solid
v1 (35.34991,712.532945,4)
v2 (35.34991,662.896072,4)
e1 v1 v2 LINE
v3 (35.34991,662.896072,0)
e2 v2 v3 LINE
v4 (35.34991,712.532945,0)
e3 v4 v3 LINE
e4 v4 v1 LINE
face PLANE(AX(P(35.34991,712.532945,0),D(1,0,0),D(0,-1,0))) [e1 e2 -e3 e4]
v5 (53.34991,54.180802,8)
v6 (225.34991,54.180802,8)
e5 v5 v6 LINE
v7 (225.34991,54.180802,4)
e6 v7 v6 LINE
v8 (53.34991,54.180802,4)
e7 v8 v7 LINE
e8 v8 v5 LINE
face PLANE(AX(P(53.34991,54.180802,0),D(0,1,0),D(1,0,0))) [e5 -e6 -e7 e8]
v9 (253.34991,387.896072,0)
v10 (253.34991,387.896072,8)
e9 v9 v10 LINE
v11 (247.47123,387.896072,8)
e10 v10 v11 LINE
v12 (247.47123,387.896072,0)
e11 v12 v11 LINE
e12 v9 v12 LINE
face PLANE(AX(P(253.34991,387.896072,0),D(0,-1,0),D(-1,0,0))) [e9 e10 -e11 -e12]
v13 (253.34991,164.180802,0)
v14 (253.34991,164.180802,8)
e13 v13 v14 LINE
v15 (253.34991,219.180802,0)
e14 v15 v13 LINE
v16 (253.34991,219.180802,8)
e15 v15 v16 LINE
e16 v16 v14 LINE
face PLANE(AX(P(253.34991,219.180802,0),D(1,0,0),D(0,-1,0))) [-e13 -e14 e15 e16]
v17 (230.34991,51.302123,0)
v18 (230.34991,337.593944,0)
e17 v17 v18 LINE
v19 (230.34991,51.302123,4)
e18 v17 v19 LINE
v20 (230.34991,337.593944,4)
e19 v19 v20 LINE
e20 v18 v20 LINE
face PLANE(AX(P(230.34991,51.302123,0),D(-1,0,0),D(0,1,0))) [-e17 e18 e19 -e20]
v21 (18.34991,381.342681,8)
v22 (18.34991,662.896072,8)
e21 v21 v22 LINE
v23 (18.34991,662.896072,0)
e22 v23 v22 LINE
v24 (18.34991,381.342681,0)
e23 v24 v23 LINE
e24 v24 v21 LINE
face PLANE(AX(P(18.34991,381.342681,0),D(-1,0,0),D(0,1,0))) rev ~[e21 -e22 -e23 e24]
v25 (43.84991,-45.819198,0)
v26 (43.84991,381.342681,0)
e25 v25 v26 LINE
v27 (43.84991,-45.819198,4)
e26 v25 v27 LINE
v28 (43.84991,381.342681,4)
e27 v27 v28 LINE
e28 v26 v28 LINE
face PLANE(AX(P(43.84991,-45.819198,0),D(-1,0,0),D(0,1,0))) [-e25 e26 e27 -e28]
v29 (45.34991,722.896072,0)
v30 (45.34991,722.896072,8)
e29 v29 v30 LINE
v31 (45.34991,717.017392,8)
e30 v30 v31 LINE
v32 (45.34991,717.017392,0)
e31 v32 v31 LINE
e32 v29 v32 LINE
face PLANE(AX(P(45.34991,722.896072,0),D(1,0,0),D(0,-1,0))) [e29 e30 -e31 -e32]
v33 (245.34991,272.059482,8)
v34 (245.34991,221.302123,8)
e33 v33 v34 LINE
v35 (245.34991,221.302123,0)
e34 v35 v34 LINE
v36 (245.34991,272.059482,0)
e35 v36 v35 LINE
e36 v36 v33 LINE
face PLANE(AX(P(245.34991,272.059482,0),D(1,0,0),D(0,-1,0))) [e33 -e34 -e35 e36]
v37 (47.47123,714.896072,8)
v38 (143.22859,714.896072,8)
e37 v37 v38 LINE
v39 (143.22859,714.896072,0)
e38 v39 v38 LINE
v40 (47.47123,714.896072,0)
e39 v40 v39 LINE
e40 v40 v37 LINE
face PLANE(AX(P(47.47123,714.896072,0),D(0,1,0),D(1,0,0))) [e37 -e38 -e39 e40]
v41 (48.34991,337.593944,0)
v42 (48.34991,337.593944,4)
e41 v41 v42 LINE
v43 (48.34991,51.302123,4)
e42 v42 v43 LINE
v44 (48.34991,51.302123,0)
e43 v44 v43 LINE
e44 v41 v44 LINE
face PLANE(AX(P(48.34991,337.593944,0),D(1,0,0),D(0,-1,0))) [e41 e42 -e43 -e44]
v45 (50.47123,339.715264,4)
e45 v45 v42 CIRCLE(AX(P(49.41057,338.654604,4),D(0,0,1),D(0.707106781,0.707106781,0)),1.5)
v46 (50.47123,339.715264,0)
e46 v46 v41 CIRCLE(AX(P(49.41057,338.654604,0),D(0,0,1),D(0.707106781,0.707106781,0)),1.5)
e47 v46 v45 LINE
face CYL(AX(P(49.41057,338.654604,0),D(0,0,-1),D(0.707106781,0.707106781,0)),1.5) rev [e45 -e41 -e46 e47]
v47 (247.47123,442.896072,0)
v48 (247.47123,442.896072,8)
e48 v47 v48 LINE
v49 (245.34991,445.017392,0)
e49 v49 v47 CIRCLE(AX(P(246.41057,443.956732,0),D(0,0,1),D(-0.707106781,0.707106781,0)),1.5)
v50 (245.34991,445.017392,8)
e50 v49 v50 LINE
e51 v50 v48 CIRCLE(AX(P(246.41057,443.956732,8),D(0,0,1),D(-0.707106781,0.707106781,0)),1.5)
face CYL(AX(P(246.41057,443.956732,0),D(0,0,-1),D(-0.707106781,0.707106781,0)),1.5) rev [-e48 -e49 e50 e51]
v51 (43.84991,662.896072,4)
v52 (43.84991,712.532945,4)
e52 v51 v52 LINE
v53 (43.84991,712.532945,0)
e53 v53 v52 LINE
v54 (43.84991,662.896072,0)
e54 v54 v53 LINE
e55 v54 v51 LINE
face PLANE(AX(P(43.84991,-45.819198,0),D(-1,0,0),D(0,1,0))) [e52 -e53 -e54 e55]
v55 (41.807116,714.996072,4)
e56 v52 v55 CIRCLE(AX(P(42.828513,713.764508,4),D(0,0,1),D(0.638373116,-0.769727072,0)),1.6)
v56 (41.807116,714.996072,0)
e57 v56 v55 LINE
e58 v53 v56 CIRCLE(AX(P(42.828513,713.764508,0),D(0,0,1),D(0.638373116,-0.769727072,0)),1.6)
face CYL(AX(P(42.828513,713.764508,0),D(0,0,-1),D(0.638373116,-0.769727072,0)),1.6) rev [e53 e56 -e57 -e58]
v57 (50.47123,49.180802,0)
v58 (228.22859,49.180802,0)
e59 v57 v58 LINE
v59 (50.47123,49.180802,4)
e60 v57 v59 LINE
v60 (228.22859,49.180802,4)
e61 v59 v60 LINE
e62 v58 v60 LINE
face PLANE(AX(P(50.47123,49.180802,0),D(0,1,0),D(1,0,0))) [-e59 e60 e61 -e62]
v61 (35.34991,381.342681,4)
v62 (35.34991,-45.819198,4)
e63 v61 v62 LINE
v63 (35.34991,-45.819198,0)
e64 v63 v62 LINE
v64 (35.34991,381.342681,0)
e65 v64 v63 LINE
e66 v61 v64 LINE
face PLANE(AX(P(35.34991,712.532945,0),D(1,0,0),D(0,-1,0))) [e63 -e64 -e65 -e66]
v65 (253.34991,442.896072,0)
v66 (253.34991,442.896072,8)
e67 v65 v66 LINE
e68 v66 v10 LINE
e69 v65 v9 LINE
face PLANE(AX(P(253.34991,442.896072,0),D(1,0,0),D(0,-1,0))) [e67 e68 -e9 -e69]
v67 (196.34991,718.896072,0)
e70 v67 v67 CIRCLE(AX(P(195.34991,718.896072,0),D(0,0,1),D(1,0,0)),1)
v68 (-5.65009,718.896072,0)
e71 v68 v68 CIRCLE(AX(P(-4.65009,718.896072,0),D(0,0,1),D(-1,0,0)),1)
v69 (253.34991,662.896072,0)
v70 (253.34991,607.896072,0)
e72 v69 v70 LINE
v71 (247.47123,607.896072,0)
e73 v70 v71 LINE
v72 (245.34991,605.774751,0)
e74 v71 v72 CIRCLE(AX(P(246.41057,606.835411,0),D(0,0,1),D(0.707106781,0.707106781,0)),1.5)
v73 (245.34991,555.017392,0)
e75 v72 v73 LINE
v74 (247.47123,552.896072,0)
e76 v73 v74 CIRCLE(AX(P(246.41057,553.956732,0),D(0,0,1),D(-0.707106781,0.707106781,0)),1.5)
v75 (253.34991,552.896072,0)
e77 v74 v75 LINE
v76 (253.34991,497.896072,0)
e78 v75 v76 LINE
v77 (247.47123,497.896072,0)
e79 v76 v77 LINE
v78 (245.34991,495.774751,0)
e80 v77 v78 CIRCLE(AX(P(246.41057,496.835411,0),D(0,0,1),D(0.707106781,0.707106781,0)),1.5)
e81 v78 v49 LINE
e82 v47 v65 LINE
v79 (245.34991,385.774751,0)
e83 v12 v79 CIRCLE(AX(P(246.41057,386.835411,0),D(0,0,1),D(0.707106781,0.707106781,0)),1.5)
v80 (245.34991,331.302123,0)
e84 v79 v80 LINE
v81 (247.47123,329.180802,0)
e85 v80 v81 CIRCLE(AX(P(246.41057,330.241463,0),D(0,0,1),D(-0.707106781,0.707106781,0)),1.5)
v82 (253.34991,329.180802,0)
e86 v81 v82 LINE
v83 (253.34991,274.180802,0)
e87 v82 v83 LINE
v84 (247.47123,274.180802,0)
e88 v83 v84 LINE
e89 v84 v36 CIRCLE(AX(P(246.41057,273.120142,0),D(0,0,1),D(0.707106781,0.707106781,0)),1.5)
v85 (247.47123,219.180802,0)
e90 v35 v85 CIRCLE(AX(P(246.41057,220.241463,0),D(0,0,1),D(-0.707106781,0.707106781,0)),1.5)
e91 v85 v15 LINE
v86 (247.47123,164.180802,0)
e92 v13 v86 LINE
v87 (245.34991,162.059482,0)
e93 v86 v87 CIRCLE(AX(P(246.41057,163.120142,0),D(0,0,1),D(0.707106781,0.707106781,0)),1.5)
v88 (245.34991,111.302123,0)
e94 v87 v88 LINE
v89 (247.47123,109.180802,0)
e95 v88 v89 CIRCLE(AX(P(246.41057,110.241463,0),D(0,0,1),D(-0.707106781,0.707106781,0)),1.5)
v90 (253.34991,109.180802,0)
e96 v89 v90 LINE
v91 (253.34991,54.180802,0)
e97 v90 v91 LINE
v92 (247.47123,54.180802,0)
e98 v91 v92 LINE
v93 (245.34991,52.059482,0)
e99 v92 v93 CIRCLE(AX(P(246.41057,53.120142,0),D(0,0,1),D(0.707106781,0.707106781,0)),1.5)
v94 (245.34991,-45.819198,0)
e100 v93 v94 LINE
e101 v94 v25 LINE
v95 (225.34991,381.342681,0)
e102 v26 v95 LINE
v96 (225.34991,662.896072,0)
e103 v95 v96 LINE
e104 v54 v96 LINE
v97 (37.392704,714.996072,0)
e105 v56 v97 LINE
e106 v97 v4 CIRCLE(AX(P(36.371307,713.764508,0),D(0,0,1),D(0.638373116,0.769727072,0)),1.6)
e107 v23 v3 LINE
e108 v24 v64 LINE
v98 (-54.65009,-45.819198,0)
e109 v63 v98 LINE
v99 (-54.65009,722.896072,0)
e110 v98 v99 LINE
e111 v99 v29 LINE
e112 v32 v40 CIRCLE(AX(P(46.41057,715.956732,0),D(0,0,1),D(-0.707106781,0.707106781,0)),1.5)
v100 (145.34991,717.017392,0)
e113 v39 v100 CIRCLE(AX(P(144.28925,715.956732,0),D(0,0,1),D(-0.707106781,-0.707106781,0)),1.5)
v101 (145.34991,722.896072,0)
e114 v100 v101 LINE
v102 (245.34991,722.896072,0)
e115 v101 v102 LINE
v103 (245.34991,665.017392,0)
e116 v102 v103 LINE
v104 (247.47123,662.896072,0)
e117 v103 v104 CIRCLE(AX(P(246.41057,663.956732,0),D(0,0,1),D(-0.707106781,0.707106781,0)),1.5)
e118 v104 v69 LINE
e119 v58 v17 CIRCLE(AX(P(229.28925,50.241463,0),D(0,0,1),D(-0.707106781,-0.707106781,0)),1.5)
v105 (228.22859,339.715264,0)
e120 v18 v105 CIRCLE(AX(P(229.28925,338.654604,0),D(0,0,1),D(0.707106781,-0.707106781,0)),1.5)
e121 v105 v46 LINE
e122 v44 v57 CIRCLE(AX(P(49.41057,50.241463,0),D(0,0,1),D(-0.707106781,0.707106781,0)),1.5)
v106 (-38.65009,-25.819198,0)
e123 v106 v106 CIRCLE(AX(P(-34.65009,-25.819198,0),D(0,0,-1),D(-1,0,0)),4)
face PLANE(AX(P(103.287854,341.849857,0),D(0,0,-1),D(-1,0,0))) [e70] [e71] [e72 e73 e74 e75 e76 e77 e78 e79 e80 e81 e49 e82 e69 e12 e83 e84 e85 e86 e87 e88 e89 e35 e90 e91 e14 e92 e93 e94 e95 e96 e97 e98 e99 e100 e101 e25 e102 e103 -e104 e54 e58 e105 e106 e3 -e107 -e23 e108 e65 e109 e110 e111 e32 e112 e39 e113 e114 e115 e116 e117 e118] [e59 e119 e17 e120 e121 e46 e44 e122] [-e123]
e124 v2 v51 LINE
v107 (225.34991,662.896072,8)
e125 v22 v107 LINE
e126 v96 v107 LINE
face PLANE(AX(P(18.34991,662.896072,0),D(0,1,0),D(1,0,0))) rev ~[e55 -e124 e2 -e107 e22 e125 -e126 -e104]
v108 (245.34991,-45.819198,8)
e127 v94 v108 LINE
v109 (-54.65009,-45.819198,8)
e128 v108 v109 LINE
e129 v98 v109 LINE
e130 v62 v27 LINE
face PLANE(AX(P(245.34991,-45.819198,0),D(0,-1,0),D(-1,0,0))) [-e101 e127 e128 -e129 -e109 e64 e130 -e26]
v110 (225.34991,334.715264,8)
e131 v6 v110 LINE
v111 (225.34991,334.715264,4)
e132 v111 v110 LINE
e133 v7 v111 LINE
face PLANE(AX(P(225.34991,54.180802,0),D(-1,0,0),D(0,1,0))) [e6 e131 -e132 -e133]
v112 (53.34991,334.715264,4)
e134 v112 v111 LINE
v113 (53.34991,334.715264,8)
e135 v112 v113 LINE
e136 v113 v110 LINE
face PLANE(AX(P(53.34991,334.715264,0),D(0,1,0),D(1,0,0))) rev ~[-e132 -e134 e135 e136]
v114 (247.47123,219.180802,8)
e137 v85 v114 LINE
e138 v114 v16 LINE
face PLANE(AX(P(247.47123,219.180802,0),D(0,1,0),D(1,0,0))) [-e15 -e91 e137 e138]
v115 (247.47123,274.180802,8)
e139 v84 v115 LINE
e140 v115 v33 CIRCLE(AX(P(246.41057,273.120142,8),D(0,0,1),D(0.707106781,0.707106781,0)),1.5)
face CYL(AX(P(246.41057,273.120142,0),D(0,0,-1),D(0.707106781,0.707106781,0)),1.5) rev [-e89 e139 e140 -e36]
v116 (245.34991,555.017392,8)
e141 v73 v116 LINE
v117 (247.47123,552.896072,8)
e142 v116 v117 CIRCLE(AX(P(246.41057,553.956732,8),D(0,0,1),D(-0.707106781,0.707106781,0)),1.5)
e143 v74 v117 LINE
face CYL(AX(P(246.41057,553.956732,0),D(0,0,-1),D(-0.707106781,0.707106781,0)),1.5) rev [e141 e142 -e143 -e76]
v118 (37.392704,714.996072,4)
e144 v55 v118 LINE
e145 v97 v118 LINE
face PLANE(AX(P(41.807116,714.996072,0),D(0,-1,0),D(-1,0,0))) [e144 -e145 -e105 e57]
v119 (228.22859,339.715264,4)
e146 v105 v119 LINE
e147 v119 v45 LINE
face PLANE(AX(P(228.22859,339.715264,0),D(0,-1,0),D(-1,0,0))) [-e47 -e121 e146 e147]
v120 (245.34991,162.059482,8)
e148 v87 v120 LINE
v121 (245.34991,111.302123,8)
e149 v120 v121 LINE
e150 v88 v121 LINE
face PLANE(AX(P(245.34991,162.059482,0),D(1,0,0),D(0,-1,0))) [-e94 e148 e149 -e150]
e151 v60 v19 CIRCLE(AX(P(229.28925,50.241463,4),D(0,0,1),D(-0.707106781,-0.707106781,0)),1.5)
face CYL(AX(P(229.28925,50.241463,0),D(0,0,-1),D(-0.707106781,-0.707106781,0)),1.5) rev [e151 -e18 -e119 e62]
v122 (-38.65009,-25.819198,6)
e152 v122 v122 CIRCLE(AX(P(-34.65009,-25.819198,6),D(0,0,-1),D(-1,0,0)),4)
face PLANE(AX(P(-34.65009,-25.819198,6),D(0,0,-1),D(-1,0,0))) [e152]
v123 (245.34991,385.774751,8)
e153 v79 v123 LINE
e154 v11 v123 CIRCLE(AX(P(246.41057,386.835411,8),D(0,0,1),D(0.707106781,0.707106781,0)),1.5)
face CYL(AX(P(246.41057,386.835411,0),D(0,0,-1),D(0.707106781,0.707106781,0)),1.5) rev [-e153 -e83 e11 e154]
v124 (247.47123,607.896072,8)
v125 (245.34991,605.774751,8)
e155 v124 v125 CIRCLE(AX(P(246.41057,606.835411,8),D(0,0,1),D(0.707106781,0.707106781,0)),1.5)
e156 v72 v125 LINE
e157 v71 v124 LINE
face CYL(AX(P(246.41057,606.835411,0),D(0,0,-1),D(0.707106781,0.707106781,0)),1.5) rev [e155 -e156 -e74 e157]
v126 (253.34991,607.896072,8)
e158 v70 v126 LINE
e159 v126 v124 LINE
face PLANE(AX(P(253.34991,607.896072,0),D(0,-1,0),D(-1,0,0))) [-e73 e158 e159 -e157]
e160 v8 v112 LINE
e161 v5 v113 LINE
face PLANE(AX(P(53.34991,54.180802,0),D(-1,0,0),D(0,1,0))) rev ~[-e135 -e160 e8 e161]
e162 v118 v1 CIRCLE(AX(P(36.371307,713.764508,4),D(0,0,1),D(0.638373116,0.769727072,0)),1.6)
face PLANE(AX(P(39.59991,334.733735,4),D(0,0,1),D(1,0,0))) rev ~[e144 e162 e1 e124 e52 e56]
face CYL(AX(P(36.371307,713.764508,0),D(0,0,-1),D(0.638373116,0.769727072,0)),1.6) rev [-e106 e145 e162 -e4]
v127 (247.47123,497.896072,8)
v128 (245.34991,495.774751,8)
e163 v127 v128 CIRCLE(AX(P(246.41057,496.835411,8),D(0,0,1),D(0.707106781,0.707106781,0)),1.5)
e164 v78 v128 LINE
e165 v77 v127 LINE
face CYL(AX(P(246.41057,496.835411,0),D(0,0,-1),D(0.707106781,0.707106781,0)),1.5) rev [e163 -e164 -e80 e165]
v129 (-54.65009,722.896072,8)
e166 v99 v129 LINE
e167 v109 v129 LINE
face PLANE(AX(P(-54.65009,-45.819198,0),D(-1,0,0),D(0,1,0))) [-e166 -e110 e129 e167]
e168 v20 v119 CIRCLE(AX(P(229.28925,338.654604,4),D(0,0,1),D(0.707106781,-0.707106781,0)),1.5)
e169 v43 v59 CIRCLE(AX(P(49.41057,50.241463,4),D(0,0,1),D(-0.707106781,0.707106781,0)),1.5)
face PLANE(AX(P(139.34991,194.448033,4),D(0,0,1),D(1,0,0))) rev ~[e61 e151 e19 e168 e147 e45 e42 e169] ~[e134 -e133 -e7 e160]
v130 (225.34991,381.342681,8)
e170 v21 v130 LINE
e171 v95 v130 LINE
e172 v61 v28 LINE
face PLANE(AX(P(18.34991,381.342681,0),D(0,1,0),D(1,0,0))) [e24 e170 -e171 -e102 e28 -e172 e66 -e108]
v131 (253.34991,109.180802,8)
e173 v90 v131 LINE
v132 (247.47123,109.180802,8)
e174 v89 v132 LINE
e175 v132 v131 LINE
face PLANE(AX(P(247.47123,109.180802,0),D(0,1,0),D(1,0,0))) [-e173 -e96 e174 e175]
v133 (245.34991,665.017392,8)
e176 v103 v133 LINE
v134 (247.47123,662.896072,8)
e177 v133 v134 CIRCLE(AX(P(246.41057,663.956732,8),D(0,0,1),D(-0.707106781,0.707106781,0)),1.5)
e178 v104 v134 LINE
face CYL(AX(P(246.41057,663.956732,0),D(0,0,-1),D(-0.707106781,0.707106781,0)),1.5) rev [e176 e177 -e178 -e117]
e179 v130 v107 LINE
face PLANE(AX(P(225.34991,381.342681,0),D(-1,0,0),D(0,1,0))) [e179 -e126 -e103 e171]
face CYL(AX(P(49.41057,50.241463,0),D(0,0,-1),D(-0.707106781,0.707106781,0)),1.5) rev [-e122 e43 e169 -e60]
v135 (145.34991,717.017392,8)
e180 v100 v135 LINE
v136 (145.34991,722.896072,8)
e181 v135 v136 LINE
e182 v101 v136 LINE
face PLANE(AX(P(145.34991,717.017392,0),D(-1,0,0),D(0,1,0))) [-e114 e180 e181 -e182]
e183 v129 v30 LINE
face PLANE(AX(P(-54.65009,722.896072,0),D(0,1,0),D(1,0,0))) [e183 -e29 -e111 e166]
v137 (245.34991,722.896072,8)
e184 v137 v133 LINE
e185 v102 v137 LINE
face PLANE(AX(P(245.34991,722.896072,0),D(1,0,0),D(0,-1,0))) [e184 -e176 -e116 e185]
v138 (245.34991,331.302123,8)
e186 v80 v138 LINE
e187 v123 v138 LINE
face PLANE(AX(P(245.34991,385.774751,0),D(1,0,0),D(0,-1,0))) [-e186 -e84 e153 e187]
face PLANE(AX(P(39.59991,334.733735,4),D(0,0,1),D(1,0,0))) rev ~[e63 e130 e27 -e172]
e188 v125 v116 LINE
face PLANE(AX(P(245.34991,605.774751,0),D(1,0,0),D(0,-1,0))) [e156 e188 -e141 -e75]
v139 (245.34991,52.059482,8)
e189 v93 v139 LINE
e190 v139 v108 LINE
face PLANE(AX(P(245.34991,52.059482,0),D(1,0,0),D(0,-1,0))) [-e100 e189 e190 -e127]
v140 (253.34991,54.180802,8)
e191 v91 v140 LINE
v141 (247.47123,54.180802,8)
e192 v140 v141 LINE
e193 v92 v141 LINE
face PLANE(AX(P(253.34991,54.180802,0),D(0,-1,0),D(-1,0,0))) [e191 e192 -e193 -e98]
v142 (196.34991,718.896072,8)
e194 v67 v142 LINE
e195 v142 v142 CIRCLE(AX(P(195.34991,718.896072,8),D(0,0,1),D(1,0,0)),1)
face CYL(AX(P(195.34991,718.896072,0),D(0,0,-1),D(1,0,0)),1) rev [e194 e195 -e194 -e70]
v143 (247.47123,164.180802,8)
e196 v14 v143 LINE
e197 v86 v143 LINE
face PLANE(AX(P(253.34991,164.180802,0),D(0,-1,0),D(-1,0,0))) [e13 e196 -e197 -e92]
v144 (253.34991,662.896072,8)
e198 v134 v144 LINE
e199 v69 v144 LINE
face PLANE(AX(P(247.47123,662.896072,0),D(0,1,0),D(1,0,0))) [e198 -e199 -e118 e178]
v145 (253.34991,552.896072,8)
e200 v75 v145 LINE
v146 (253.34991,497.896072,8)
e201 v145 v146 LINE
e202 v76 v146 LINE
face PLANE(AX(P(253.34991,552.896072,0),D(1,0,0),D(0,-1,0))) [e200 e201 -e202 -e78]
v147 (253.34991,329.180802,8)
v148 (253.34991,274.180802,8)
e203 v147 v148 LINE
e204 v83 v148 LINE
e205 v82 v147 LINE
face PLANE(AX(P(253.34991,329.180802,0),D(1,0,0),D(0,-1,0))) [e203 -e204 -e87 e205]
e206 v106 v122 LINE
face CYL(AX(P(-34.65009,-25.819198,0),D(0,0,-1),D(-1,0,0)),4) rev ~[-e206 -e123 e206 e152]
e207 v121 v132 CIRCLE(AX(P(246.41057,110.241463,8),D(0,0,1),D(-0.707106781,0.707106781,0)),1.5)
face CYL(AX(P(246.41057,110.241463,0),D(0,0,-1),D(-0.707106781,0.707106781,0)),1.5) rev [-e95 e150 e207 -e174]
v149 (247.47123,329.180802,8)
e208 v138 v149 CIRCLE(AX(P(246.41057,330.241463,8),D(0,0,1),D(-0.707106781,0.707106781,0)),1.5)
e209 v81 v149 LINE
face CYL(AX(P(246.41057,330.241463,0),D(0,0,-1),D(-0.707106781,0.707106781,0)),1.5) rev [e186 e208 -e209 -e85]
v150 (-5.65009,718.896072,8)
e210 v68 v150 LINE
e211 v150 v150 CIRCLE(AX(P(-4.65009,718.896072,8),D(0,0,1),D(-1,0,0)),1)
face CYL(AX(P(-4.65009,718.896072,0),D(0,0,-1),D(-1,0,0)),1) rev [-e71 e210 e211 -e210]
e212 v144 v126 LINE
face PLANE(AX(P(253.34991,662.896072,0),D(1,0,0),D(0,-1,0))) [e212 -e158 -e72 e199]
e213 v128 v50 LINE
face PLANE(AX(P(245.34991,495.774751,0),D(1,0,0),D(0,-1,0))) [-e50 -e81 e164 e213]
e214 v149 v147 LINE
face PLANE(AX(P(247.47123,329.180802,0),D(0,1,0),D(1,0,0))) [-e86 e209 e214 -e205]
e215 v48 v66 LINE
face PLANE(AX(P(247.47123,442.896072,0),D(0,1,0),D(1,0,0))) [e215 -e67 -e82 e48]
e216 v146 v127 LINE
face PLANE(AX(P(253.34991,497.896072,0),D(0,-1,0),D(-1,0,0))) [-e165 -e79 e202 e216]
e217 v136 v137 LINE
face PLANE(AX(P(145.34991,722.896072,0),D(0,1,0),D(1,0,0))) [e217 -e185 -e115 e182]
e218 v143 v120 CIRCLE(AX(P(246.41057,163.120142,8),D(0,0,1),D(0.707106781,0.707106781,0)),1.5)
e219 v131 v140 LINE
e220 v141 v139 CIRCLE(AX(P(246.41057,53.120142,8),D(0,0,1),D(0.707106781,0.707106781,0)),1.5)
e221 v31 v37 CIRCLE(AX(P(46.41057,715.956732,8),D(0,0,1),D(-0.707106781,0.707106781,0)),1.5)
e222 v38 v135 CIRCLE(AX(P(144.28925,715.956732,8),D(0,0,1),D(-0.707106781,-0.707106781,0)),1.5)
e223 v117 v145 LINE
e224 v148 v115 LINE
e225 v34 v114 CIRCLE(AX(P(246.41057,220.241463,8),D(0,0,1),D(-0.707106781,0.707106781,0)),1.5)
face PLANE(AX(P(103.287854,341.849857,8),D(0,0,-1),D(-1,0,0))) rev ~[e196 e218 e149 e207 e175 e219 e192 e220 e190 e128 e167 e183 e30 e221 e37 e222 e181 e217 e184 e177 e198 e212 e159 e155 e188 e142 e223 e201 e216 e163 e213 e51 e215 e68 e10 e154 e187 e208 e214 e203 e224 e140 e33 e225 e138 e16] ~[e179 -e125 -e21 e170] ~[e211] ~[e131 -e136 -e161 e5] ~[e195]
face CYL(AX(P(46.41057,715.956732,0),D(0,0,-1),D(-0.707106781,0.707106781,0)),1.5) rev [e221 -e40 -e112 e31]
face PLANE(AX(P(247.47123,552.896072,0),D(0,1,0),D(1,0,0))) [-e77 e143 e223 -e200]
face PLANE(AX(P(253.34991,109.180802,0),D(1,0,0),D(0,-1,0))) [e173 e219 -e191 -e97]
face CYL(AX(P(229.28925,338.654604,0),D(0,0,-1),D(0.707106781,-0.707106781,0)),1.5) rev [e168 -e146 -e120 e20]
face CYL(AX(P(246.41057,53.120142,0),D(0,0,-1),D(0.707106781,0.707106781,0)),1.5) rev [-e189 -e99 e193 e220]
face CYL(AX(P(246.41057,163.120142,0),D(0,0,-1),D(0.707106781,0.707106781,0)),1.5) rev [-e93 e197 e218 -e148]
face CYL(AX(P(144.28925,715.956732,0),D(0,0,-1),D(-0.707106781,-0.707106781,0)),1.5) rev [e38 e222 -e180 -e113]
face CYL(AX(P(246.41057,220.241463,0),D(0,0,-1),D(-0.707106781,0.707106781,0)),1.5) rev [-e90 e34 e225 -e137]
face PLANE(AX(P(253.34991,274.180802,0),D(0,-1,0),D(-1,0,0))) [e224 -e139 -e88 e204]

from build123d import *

# Parameters (mm, degrees)
ESQUISSE1_R             = 1
ESQUISSE1_W             = 207
ESQUISSE1_H             = 281.553390594
ESQUISSE1_W_2           = 172
ESQUISSE1_H_2           = 280.534461641
BOSS_EXTRU_1_DEPTH      = 8
ENL_V_MAT_EXTRU_2_DEPTH = 4
ENL_V_MAT_EXTRU_3_DEPTH = 4
ESQUISSE6_R             = 4
ENL_V_MAT_EXTRU_4_DEPTH = 6


with BuildPart() as part:
    # Esquisse1 → Boss.-Extru.1 (new body)
    with BuildSketch(Plane.XY):
        with BuildLine():
            Line((-54.650090097, -45.819197646), (-54.650090097, 358.028972494))
            Line((-54.650090097, 358.028972494), (-54.650090097, 722.896071587))
            Line((-54.650090097, 722.896071587), (45.349909903, 722.896071587))
            Line((45.349909903, 722.896071587), (45.349909903, 717.01739193))
            ThreePointArc((45.349909903, 717.01739193), (45.349909903, 714.896071587), (47.471230246, 714.896071587))
            Line((47.471230246, 714.896071587), (143.228589559, 714.896071587))
            ThreePointArc((143.228589559, 714.896071587), (145.349909903, 714.896071587), (145.349909903, 717.01739193))
            Line((145.349909903, 717.01739193), (145.349909903, 722.896071587))
            Line((145.349909903, 722.896071587), (245.349909903, 722.896071587))
            Line((245.349909903, 722.896071587), (245.349909903, 665.01739193))
            ThreePointArc((245.349909903, 665.01739193), (245.349909903, 662.896071587), (247.471230246, 662.896071587))
            Line((247.471230246, 662.896071587), (253.349909903, 662.896071587))
            Line((253.349909903, 662.896071587), (253.349909903, 607.896071587))
            Line((253.349909903, 607.896071587), (247.471230246, 607.896071587))
            ThreePointArc((247.471230246, 607.896071587), (245.349909903, 607.896071587), (245.349909903, 605.774751243))
            Line((245.349909903, 605.774751243), (245.349909903, 555.01739193))
            ThreePointArc((245.349909903, 555.01739193), (245.349909903, 552.896071587), (247.471230246, 552.896071587))
            Line((247.471230246, 552.896071587), (253.349909903, 552.896071587))
            Line((253.349909903, 552.896071587), (253.349909903, 497.896071587))
            Line((253.349909903, 497.896071587), (247.471230246, 497.896071587))
            ThreePointArc((247.471230246, 497.896071587), (245.349909903, 497.896071587), (245.349909903, 495.774751243))
            Line((245.349909903, 495.774751243), (245.349909903, 445.01739193))
            ThreePointArc((245.349909903, 445.01739193), (245.349909903, 442.896071587), (247.471230246, 442.896071587))
            Line((247.471230246, 442.896071587), (253.349909903, 442.896071587))
            Line((253.349909903, 442.896071587), (253.349909903, 387.896071587))
            Line((253.349909903, 387.896071587), (247.471230246, 387.896071587))
            ThreePointArc((247.471230246, 387.896071587), (245.349909903, 387.896071587), (245.349909903, 385.774751243))
            Line((245.349909903, 385.774751243), (245.349909903, 331.302122698))
            ThreePointArc((245.349909903, 331.302122698), (245.349909903, 329.180802354), (247.471230246, 329.180802354))
            Line((247.471230246, 329.180802354), (253.349909903, 329.180802354))
            Line((253.349909903, 329.180802354), (253.349909903, 274.180802354))
            Line((253.349909903, 274.180802354), (247.471230246, 274.180802354))
            ThreePointArc((247.471230246, 274.180802354), (245.349909903, 274.180802354), (245.349909903, 272.059482011))
            Line((245.349909903, 272.059482011), (245.349909903, 221.302122698))
            ThreePointArc((245.349909903, 221.302122698), (245.349909903, 219.180802354), (247.471230246, 219.180802354))
            Line((247.471230246, 219.180802354), (253.349909903, 219.180802354))
            Line((253.349909903, 219.180802354), (253.349909903, 164.180802354))
            Line((253.349909903, 164.180802354), (247.471230246, 164.180802354))
            ThreePointArc((247.471230246, 164.180802354), (245.349909903, 164.180802354), (245.349909903, 162.059482011))
            Line((245.349909903, 162.059482011), (245.349909903, 111.302122698))
            ThreePointArc((245.349909903, 111.302122698), (245.349909903, 109.180802354), (247.471230246, 109.180802354))
            Line((247.471230246, 109.180802354), (253.349909903, 109.180802354))
            Line((253.349909903, 109.180802354), (253.349909903, 54.180802354))
            Line((253.349909903, 54.180802354), (247.471230246, 54.180802354))
            ThreePointArc((247.471230246, 54.180802354), (245.349909903, 54.180802354), (245.349909903, 52.059482011))
            Line((245.349909903, 52.059482011), (245.349909903, -45.819197646))
            Line((245.349909903, -45.819197646), (-54.650090097, -45.819197646))
        make_face()
        with Locations((195.349909903, 718.896071587)):
            Circle(ESQUISSE1_R, mode=Mode.SUBTRACT)
        with Locations(Location((-4.650090097, 718.896071587, 0), (0, 0, 180))):
            Circle(ESQUISSE1_R, mode=Mode.SUBTRACT)
        with Locations((121.849909903, 522.11937629)):
            Rectangle(ESQUISSE1_W, ESQUISSE1_H, mode=Mode.SUBTRACT)
        with Locations((139.349909903, 194.448033175)):
            Rectangle(ESQUISSE1_W_2, ESQUISSE1_H_2, mode=Mode.SUBTRACT)
    extrude(amount=BOSS_EXTRU_1_DEPTH)

    # Esquisse3 → Enlèv. mat.-Extru.2 (cut)
    with BuildSketch(Plane(origin=(0, 0, 0), x_dir=(-1, 0, 0), z_dir=(0, 0, -1))):
        with BuildLine():
            Line((-228.228589559, 339.715263995), (-50.471230246, 339.715263995))
            ThreePointArc((-50.471230246, 339.715263995), (-48.349909903, 339.715263995), (-48.349909903, 337.593943652))
            Line((-48.349909903, 337.593943652), (-48.349909903, 51.302122698))
            ThreePointArc((-48.349909903, 51.302122698), (-48.349909903, 49.180802354), (-50.471230246, 49.180802354))
            Line((-50.471230246, 49.180802354), (-228.228589559, 49.180802354))
            ThreePointArc((-228.228589559, 49.180802354), (-230.349909903, 49.180802354), (-230.349909903, 51.302122698))
            Line((-230.349909903, 51.302122698), (-230.349909903, 337.593943652))
            ThreePointArc((-230.349909903, 337.593943652), (-230.349909903, 339.715263995), (-228.228589559, 339.715263995))
        make_face()
    extrude(amount=-ENL_V_MAT_EXTRU_2_DEPTH, mode=Mode.SUBTRACT)

    # Esquisse5 → Enlèv. mat.-Extru.3 (cut)
    with BuildSketch(Plane(origin=(0, 0, 0), x_dir=(-1, 0, 0), z_dir=(0, 0, -1))):
        with BuildLine():
            Line((-35.349909903, -45.819197646), (-43.849909903, -45.819197646))
            Line((-43.849909903, -45.819197646), (-43.849909903, 712.532944954))
            ThreePointArc((-43.849909903, 712.532944954), (-44.060076233, 714.785905254), (-41.807115933, 714.996071584))
            Line((-41.807115933, 714.996071584), (-37.392703873, 714.996071584))
            ThreePointArc((-37.392703873, 714.996071584), (-35.139743573, 714.785905254), (-35.349909903, 712.532944954))
            Line((-35.349909903, 712.532944954), (-35.349909903, -45.819197646))
        make_face()
    extrude(amount=-ENL_V_MAT_EXTRU_3_DEPTH, mode=Mode.SUBTRACT)

    # Esquisse6 → Enlèv. mat.-Extru.4 (cut)
    with BuildSketch(Plane(origin=(0, 0, 0), x_dir=(-1, 0, 0), z_dir=(0, 0, -1))):
        with Locations((34.650090097, -25.819197646)):
            Circle(ESQUISSE6_R)
    extrude(amount=-ENL_V_MAT_EXTRU_4_DEPTH, mode=Mode.SUBTRACT)


solid = part.part
